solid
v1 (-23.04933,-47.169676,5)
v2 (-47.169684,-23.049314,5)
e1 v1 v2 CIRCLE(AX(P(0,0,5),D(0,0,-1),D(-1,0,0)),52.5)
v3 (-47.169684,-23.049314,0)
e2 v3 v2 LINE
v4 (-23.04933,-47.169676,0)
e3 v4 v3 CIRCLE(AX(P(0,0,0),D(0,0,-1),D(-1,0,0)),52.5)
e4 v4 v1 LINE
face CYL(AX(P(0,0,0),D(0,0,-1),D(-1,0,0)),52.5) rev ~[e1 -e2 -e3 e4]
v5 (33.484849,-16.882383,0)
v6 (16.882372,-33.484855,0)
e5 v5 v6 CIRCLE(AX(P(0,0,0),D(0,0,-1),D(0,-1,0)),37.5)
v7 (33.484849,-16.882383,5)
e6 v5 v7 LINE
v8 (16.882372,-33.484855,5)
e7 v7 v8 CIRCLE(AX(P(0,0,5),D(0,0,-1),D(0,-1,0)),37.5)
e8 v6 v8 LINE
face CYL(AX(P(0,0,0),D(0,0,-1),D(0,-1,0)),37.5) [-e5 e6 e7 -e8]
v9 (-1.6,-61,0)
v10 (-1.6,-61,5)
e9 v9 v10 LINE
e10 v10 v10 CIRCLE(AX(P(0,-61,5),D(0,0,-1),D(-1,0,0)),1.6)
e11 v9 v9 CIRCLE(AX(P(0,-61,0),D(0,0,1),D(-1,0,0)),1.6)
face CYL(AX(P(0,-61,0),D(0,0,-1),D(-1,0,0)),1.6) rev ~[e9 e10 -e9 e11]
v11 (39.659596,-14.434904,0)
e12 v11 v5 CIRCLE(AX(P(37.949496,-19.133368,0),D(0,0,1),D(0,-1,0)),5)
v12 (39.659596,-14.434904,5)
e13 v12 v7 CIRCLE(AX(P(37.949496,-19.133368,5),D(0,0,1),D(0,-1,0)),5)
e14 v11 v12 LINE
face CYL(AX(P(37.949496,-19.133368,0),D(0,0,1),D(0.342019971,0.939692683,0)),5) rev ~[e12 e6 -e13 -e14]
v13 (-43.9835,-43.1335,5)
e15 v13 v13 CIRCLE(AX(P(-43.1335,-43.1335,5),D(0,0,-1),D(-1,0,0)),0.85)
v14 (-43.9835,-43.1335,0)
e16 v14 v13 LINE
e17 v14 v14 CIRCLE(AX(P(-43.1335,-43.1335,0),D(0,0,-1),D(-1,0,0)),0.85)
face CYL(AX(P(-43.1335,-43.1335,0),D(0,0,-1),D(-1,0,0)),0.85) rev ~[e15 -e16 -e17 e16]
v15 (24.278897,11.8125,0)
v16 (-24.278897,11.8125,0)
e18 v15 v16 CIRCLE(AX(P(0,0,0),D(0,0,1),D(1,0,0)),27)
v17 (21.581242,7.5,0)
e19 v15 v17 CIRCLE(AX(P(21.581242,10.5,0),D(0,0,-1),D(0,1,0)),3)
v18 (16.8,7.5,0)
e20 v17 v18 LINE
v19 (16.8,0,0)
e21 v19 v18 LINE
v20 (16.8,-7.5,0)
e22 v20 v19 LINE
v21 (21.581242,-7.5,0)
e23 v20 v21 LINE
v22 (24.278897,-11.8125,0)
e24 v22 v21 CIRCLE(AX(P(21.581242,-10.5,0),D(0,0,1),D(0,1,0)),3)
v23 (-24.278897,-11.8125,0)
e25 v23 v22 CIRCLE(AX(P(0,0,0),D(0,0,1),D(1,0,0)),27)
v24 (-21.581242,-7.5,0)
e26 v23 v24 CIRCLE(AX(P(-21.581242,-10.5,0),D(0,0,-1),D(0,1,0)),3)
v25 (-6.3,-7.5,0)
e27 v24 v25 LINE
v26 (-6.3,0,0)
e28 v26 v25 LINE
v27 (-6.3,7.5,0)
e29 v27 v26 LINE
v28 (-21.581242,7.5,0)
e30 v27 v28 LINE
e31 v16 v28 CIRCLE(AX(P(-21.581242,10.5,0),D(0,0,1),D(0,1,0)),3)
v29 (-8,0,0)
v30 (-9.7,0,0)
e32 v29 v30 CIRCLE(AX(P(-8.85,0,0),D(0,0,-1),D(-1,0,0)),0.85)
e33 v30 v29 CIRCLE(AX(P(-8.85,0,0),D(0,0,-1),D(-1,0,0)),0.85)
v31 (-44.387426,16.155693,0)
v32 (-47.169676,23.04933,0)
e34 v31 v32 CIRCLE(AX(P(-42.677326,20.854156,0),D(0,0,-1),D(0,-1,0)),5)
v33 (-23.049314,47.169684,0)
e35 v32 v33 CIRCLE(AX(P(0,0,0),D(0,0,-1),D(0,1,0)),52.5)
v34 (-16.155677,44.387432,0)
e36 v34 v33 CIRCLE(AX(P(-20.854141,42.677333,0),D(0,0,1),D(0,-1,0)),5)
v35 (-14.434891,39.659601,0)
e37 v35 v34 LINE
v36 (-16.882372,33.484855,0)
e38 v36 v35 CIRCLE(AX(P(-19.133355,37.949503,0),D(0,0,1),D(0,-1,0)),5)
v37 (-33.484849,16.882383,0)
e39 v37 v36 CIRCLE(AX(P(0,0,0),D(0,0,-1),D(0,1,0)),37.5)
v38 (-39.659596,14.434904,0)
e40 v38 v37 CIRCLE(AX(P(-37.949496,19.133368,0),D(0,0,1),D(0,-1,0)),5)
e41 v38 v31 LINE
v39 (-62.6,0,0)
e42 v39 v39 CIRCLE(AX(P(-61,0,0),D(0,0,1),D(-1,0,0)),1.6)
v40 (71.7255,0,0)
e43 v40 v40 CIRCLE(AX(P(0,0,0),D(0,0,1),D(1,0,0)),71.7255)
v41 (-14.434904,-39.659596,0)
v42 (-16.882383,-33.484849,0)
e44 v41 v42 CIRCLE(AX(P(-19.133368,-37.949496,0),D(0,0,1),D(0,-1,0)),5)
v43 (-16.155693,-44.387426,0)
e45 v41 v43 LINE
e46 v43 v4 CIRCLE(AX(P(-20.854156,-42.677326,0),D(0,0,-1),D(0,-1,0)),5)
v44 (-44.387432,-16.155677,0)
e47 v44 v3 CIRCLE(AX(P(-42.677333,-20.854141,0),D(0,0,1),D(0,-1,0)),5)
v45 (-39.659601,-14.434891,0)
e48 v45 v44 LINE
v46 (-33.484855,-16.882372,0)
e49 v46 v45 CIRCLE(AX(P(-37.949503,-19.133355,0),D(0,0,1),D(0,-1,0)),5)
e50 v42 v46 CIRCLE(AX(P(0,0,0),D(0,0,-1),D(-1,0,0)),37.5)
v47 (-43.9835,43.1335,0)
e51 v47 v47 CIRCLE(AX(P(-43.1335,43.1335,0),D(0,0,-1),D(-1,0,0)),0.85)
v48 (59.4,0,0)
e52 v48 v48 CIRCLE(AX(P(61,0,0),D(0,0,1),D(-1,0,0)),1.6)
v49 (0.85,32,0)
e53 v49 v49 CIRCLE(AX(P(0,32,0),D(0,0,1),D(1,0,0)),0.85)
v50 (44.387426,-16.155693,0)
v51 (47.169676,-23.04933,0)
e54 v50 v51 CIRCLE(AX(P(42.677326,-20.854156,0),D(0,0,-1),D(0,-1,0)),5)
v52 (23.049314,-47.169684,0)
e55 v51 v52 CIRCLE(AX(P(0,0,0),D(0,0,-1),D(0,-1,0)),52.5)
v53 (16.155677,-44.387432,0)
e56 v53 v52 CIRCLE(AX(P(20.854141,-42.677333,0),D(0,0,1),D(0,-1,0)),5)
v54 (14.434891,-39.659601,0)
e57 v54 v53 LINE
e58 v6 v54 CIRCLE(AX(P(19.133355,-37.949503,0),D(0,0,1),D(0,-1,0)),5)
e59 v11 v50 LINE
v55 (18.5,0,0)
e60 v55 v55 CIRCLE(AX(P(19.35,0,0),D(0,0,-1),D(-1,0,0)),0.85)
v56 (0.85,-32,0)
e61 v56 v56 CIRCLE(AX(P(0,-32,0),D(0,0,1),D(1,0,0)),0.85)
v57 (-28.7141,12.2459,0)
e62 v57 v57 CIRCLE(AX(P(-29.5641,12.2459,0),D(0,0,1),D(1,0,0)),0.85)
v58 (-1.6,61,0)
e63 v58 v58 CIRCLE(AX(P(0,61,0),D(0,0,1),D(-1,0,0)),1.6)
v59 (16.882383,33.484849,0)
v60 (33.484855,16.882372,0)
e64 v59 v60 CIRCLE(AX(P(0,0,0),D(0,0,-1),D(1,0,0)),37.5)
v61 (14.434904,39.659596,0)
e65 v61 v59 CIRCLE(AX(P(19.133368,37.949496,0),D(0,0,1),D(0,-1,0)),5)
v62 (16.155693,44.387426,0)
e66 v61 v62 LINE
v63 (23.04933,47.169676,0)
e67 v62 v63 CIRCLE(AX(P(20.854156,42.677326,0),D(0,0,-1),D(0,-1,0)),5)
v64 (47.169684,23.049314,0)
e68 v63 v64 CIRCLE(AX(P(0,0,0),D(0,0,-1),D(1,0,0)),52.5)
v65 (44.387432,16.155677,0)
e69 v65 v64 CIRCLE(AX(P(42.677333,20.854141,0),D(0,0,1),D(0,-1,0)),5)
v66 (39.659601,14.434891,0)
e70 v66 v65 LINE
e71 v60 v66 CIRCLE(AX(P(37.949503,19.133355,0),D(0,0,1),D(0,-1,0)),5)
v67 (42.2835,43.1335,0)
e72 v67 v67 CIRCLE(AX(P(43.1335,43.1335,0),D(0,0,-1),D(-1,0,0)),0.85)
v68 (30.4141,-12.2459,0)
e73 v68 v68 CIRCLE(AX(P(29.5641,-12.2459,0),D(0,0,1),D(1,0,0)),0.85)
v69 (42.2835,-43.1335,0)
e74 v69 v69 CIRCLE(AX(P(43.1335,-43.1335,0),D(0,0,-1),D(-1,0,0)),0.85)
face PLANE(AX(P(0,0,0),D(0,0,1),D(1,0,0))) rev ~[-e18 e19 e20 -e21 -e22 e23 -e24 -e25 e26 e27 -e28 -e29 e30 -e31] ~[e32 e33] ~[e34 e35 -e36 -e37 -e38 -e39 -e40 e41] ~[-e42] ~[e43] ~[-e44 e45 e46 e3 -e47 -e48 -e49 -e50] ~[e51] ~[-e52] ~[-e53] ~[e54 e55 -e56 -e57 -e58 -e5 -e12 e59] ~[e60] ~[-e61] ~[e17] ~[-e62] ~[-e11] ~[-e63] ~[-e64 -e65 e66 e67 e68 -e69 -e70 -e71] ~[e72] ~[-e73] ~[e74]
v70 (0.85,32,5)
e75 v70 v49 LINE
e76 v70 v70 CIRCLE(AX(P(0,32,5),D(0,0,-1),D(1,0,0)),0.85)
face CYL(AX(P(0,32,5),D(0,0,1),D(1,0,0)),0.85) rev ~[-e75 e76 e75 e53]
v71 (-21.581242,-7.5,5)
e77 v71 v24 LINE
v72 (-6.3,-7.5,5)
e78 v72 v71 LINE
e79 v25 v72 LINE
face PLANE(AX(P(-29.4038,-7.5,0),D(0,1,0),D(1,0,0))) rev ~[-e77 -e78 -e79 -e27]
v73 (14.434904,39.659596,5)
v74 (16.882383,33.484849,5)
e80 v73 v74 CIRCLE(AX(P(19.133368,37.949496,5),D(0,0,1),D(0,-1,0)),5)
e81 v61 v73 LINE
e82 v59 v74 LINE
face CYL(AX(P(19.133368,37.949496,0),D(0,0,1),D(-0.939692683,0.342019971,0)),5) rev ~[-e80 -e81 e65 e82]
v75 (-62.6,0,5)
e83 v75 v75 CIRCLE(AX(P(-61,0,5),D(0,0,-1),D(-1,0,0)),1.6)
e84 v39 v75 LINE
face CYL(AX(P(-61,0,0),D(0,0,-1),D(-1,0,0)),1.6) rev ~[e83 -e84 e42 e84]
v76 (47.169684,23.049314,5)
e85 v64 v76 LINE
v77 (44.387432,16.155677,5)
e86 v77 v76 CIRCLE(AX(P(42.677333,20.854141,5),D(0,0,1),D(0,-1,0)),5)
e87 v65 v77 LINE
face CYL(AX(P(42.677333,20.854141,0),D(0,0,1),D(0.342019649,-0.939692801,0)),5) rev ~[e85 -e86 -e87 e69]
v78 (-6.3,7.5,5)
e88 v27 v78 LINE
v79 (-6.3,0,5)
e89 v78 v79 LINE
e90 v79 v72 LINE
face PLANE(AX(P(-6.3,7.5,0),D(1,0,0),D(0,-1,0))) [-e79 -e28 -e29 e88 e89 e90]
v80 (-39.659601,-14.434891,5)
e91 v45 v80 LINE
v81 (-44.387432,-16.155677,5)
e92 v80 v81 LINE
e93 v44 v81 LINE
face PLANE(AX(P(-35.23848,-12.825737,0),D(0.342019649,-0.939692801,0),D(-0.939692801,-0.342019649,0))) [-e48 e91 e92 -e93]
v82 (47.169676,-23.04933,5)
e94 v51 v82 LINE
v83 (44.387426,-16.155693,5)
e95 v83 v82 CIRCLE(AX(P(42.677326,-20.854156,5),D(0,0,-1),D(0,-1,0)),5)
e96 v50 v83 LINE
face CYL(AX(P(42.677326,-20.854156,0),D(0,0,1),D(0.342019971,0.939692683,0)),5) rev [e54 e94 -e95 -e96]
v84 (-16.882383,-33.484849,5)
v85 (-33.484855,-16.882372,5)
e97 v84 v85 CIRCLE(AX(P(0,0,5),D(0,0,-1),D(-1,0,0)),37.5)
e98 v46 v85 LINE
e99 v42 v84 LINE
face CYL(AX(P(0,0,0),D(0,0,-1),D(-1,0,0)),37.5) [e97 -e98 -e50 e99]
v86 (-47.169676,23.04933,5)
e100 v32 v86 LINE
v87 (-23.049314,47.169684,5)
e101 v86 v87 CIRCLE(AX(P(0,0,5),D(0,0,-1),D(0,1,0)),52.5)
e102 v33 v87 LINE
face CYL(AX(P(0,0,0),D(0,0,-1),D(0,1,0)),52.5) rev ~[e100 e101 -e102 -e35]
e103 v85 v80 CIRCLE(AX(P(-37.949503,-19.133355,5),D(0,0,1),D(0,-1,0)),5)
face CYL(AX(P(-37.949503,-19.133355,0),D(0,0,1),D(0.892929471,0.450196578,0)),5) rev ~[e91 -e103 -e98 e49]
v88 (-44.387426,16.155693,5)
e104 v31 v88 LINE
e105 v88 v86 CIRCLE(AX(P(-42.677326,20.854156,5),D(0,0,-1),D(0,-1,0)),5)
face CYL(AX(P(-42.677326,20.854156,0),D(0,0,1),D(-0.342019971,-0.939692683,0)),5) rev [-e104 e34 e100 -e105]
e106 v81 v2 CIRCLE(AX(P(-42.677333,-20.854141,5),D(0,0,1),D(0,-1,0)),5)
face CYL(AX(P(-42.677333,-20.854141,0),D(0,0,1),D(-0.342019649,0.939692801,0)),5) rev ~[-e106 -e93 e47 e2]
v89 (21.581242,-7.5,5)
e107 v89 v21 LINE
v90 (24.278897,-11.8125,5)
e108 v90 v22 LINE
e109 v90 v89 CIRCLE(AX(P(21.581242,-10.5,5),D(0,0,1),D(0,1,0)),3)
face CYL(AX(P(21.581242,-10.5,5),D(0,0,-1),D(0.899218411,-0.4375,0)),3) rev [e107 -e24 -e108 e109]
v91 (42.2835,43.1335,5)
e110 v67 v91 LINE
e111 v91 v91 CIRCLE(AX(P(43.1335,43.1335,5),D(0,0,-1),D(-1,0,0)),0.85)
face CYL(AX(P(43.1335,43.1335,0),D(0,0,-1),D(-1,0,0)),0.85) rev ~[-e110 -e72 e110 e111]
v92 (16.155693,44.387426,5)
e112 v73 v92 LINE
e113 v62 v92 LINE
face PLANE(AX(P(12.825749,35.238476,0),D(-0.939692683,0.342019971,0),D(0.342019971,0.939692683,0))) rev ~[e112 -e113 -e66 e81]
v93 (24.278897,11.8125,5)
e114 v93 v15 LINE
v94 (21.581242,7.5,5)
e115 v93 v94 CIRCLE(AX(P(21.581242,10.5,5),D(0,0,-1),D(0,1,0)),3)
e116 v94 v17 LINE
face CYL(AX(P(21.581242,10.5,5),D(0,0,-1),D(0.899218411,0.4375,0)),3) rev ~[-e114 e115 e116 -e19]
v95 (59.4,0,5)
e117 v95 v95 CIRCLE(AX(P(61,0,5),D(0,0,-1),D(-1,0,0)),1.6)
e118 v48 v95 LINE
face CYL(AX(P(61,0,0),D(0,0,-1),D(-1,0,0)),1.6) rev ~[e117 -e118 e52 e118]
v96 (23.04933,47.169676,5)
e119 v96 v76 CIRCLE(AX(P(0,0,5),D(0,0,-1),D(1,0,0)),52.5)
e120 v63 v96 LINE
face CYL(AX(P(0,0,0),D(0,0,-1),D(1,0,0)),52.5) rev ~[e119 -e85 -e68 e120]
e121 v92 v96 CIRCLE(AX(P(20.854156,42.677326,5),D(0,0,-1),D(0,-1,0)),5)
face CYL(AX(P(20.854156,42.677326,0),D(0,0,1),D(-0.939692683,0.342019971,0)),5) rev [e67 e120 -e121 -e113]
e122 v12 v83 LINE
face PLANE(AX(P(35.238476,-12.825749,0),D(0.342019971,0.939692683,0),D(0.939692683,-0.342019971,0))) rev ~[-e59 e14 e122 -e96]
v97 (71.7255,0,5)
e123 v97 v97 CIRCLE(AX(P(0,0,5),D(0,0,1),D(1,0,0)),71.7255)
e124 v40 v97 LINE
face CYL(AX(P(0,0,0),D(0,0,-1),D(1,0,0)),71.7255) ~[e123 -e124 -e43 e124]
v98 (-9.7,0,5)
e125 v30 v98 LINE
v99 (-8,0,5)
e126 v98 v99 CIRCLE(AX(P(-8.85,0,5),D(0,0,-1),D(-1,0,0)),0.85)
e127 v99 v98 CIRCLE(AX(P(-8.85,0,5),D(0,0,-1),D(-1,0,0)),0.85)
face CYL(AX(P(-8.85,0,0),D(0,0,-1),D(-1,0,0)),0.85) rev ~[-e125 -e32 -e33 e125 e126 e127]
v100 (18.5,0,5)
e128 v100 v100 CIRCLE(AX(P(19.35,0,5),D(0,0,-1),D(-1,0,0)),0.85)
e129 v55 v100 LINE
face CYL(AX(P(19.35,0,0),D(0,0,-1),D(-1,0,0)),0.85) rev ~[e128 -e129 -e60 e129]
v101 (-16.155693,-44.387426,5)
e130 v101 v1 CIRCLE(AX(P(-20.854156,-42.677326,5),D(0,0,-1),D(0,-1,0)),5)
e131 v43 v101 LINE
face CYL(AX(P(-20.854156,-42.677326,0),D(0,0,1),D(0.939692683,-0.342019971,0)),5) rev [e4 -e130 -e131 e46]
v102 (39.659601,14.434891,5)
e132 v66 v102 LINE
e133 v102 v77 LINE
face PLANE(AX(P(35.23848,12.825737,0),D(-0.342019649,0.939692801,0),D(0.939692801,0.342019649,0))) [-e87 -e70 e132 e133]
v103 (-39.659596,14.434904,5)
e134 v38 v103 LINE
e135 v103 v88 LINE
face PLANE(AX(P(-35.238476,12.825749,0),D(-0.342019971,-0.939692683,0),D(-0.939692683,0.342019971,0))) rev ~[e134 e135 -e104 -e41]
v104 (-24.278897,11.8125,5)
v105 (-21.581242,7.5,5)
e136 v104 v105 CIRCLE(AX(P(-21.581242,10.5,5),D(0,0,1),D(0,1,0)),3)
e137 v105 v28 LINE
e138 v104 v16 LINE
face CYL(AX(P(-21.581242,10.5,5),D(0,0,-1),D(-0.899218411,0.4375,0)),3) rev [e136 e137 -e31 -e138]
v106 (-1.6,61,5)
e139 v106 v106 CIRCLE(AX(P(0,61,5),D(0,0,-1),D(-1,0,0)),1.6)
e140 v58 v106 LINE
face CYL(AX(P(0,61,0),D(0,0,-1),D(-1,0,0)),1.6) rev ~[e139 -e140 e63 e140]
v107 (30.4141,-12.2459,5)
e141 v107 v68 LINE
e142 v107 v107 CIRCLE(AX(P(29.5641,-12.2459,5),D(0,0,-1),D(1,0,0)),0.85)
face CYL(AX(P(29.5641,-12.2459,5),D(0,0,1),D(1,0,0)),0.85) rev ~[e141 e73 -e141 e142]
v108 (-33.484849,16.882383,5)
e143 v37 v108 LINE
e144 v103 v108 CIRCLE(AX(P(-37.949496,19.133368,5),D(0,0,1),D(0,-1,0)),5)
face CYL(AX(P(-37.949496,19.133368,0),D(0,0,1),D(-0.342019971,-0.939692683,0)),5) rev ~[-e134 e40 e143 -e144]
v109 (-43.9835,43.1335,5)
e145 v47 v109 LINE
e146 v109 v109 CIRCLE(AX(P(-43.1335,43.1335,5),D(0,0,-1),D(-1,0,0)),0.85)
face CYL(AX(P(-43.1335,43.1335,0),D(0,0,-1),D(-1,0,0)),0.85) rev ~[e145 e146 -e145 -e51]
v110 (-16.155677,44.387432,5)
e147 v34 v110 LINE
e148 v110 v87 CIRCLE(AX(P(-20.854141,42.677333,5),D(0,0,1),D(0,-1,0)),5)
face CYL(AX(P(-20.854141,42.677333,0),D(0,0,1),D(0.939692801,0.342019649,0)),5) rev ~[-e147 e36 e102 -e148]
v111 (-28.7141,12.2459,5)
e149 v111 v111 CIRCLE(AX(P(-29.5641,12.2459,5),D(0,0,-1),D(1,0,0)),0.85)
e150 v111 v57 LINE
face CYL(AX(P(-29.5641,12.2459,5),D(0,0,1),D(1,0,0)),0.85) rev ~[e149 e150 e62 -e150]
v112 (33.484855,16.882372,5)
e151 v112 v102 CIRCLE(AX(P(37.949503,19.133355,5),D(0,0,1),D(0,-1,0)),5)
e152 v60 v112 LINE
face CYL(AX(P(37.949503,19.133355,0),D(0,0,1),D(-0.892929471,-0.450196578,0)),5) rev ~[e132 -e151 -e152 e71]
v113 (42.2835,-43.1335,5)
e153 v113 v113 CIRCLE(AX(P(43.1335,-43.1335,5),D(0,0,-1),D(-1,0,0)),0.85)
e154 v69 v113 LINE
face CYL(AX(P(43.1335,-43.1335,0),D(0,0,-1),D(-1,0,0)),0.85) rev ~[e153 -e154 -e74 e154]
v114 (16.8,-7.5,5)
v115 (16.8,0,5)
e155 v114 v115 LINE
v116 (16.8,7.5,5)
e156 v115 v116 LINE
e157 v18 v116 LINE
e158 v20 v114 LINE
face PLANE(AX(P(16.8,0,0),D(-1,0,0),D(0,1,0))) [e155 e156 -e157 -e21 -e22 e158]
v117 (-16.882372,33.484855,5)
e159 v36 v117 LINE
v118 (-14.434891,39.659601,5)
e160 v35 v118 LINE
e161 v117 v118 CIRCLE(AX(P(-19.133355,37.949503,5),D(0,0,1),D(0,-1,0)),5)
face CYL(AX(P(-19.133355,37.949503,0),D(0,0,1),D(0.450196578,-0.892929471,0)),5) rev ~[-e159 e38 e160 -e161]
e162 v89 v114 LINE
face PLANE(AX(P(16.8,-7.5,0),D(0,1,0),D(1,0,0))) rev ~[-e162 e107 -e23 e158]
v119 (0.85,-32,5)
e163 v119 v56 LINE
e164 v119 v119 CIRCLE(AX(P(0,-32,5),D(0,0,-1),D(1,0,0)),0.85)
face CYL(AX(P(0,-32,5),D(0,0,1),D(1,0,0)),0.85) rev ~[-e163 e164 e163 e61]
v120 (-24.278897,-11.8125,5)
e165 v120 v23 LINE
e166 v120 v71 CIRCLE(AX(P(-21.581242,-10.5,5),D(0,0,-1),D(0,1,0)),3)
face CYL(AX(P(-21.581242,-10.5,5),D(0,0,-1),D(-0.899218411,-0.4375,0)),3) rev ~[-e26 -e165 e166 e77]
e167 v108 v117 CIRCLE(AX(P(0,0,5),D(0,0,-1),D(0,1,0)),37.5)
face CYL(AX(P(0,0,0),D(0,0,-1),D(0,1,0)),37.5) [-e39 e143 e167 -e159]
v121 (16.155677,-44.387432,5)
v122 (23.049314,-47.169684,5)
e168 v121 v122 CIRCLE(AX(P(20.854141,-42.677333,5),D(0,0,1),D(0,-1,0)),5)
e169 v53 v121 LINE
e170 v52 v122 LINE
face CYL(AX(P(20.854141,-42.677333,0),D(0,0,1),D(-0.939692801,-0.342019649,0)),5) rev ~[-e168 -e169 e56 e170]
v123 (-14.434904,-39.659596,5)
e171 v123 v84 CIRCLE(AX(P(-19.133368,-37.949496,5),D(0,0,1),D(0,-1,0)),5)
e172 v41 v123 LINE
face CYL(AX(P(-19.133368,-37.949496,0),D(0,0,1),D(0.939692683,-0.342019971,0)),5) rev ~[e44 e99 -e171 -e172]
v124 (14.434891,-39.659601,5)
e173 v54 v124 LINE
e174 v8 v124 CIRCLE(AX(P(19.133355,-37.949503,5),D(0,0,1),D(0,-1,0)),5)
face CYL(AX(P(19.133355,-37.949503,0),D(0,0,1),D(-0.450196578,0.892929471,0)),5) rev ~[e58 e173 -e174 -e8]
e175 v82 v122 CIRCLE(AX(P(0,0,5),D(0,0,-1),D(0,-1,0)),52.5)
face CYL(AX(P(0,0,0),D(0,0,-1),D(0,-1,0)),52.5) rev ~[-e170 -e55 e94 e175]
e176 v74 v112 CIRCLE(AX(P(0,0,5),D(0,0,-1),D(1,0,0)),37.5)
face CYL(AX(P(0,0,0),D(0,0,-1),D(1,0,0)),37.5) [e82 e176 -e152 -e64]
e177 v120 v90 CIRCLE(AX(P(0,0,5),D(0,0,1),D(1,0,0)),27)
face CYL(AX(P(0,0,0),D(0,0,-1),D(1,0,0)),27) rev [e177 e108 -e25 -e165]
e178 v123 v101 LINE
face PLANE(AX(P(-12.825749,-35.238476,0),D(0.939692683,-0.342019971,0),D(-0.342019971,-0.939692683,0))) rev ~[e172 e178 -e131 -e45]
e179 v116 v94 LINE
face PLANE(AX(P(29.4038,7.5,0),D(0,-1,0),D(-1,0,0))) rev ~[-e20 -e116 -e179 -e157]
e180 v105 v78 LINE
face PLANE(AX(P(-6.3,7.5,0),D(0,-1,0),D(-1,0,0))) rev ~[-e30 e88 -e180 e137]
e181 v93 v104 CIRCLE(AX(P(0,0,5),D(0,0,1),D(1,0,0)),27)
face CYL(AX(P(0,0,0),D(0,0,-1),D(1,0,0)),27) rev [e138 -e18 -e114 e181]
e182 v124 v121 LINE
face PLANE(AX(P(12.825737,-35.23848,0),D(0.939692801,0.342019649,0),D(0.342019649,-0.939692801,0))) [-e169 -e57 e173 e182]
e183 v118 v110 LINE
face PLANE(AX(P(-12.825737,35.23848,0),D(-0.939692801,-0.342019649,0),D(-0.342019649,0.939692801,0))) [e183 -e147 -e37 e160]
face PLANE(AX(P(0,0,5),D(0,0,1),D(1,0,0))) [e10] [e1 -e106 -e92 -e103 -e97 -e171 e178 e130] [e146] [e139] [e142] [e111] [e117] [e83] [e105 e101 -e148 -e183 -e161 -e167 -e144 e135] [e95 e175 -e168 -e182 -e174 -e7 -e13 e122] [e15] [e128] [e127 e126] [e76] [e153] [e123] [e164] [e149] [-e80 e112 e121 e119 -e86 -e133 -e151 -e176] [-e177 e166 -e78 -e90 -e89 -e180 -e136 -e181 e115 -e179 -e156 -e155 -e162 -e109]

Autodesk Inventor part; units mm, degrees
ref_plane "YZ Plane" through (0, 0, 0) normal (1, 0, 0) x (0, 1, 0)
ref_plane "XZ Plane" through (0, 0, 0) normal (0, 1, 0) x (-1, 0, 0)
ref_plane "XY Plane" through (0, 0, 0) normal (0, 0, 1) x (1, 0, 0)
sketch "스케치1" plane through (0, 0, 0) normal (0, 0, 1) x (1, 0, 0)
  circle A0 centre (0, 0) radius 27
  circle A1 centre (0, 0) radius 71.7255
  dimension "d0" = 54
  dimension "d1" = 143.451
extrude "돌출1" add sketch "스케치1" along normal blind 5
sketch "스케치2" plane through (0, 0, 5) normal (0, 0, 1) x (1, 0, 0)
  circle A0 centre (0, 0) radius 32
  circle A1 centre (0, 32) radius 0.85
  circle A2 centre (0, -32) radius 0.85
  line L0 (0, 0) -> (0, -32) construction
  line L1 (0, 0) -> (29.5641, -12.2459) construction
  circle A3 centre (29.5641, -12.2459) radius 0.85
  line L2 (0, 0) -> (-29.5641, 12.2459) construction
  circle A4 centre (-29.5641, 12.2459) radius 0.85
  dimension "d4" = 64
  dimension "d5" = 1.7
  dimension "d6" = 1.7
  dimension "d7" = 1.7
  dimension "d8" = 67.5
  dimension "d9" = 1.7
extrude "돌출2" cut sketch "스케치2" against normal blind 10 contours A1 A0 | A0 A1 | A3 A0 | A0 A3 | A4 A0 | A0 A4 | A2 A0 | A0 A2
sketch "스케치3" plane through (0, 0, 0) normal (0, 0, -1) x (-1, 0, 0)
  circle A0 centre (0, 0) radius 61
  circle A1 centre (61, 0) radius 1.6
  circle A2 centre (0, 61) radius 1.6
  circle A3 centre (-61, 0) radius 1.6
  circle A4 centre (0, -61) radius 1.6
  dimension "d12" = 122
  dimension "d13" = 3.2
  dimension "d16" = 360
extrude "돌출3" cut sketch "스케치3" against normal blind 10 contours A0 A1 | A0 A1 | A2 A0 | A0 A2 | A4 A0 | A0 A4 | A3 A0 | A0 A3
sketch "스케치4" plane through (0, 0, 0) normal (0, 0, -1) x (-1, 0, 0)
  circle A0 centre (0, 0) radius 2.5
  line L0 (0, 0) -> (8.85, 0)
  line L1 (0, 0) -> (-19.35, 0)
  circle A1 centre (8.85, 0) radius 0.85
  circle A2 centre (-19.35, 0) radius 0.85
  line L2 (-29.4038, 7.5) -> (29.4038, 7.5)
  line L3 (29.4038, 7.5) -> (29.4038, -7.5)
  line L4 (29.4038, -7.5) -> (-29.4038, -7.5)
  line L5 (-29.4038, -7.5) -> (-29.4038, 7.5)
  line L6 (-29.4038, 7.5) -> (29.4038, -7.5) construction
  line L7 (29.4038, 7.5) -> (-29.4038, -7.5) construction
  line L8 (-5, -7.5) -> (6.3, -7.5)
  line L9 (10.85, 7.5) -> (6.3, 7.5)
  line L10 (6.3, 7.5) -> (6.3, -7.5)
  line L11 (6.3, -7.5) -> (10.85, -7.5)
  line L12 (10.85, -7.5) -> (10.85, 7.5) construction
  line L13 (-16.8, 7.5) -> (-21.35, 7.5)
  line L14 (-21.35, 7.5) -> (-21.35, -7.5) construction
  line L15 (-21.35, -7.5) -> (-16.8, -7.5)
  line L16 (-16.8, -7.5) -> (-16.8, 7.5)
  point P0 (-16.8, -7.5)
  point P1 (6.3, -7.5)
  point P2 (6.3, 7.5)
  dimension "d20" = 5
  dimension "d21" = 8.85
  dimension "d22" = 19.35
  dimension "d23" = 1.7
  dimension "d24" = 1.7
  dimension "d25" = 15
  dimension "d29" = 16.8
  dimension "d30" = 21.35
  dimension "d31" = 10.85
  dimension "d32" = 6.3
extrude "돌출4" add sketch "스케치4" against normal blind 5 contours L10 L2 L3 L4 | L16 L4 L5 L2
fillet "모깎기1" radius 3 4 edges at (25.9374, -7.5, 2.5) (-25.9374, -7.5, 2.5) (-25.9374, 7.5, 2.5) (25.9374, 7.5, 2.5)
sketch "스케치6" plane through (0, 0, 0) normal (0, 0, -1) x (-1, 0, 0)
  circle A0 centre (0, 0) radius 52.5
  circle A1 centre (0, 0) radius 37.5
  line L0 (0, 0) -> (0, -83.3327)
  line L1 (0, 0) -> (22.8876, -62.8832)
  line L2 (0, 0) -> (58.8648, -21.425)
  point P0 (49.3339, -17.9561)
  point P1 (35.2385, -12.8258)
  point P2 (12.8258, -35.2385)
  point P3 (17.9561, -49.3339)
  dimension "d34" = 105
  dimension "d35" = 75
  dimension "d36" = 20
  dimension "d37" = 50
extrude "돌출5" cut sketch "스케치6" against normal blind 5 contours A0 L1 A1 L2
fillet "모깎기2" radius 5 4 edges at (-35.2385, -12.8258, 2.5) (-49.3339, -17.9561, 2.5) (-17.9561, -49.3339, 2.5) (-12.8258, -35.2385, 2.5)
pattern_circular "원형 패턴1" count 4 over 360 about axis through (0, 0, 0) along (0, 0, 1) of "돌출5", "모깎기2"
sketch "스케치7" plane through (0, 0, 0) normal (0, 0, -1) x (-1, 0, 0)
  circle A0 centre (0, -61) radius 1.6 projected
  circle A1 centre (0, 0) radius 61 construction
  circle A2 centre (43.1335, -43.1335) radius 0.85
  line L0 (43.1335, -43.1335) -> (0, 0) construction
  line L1 (0, 0) -> (0, -16.1996)
  circle A3 centre (43.1335, 43.1335) radius 0.85
  circle A4 centre (-43.1335, 43.1335) radius 0.85
  circle A5 centre (-43.1335, -43.1335) radius 0.85
  dimension "d44" = 1.7
  dimension "d45" = 45
  dimension "d48" = 360
extrude "돌출6" cut sketch "스케치7" against normal blind 5 contours A2 | A3 | A4 | A5
properties part number "아크릴 빛번짐"
